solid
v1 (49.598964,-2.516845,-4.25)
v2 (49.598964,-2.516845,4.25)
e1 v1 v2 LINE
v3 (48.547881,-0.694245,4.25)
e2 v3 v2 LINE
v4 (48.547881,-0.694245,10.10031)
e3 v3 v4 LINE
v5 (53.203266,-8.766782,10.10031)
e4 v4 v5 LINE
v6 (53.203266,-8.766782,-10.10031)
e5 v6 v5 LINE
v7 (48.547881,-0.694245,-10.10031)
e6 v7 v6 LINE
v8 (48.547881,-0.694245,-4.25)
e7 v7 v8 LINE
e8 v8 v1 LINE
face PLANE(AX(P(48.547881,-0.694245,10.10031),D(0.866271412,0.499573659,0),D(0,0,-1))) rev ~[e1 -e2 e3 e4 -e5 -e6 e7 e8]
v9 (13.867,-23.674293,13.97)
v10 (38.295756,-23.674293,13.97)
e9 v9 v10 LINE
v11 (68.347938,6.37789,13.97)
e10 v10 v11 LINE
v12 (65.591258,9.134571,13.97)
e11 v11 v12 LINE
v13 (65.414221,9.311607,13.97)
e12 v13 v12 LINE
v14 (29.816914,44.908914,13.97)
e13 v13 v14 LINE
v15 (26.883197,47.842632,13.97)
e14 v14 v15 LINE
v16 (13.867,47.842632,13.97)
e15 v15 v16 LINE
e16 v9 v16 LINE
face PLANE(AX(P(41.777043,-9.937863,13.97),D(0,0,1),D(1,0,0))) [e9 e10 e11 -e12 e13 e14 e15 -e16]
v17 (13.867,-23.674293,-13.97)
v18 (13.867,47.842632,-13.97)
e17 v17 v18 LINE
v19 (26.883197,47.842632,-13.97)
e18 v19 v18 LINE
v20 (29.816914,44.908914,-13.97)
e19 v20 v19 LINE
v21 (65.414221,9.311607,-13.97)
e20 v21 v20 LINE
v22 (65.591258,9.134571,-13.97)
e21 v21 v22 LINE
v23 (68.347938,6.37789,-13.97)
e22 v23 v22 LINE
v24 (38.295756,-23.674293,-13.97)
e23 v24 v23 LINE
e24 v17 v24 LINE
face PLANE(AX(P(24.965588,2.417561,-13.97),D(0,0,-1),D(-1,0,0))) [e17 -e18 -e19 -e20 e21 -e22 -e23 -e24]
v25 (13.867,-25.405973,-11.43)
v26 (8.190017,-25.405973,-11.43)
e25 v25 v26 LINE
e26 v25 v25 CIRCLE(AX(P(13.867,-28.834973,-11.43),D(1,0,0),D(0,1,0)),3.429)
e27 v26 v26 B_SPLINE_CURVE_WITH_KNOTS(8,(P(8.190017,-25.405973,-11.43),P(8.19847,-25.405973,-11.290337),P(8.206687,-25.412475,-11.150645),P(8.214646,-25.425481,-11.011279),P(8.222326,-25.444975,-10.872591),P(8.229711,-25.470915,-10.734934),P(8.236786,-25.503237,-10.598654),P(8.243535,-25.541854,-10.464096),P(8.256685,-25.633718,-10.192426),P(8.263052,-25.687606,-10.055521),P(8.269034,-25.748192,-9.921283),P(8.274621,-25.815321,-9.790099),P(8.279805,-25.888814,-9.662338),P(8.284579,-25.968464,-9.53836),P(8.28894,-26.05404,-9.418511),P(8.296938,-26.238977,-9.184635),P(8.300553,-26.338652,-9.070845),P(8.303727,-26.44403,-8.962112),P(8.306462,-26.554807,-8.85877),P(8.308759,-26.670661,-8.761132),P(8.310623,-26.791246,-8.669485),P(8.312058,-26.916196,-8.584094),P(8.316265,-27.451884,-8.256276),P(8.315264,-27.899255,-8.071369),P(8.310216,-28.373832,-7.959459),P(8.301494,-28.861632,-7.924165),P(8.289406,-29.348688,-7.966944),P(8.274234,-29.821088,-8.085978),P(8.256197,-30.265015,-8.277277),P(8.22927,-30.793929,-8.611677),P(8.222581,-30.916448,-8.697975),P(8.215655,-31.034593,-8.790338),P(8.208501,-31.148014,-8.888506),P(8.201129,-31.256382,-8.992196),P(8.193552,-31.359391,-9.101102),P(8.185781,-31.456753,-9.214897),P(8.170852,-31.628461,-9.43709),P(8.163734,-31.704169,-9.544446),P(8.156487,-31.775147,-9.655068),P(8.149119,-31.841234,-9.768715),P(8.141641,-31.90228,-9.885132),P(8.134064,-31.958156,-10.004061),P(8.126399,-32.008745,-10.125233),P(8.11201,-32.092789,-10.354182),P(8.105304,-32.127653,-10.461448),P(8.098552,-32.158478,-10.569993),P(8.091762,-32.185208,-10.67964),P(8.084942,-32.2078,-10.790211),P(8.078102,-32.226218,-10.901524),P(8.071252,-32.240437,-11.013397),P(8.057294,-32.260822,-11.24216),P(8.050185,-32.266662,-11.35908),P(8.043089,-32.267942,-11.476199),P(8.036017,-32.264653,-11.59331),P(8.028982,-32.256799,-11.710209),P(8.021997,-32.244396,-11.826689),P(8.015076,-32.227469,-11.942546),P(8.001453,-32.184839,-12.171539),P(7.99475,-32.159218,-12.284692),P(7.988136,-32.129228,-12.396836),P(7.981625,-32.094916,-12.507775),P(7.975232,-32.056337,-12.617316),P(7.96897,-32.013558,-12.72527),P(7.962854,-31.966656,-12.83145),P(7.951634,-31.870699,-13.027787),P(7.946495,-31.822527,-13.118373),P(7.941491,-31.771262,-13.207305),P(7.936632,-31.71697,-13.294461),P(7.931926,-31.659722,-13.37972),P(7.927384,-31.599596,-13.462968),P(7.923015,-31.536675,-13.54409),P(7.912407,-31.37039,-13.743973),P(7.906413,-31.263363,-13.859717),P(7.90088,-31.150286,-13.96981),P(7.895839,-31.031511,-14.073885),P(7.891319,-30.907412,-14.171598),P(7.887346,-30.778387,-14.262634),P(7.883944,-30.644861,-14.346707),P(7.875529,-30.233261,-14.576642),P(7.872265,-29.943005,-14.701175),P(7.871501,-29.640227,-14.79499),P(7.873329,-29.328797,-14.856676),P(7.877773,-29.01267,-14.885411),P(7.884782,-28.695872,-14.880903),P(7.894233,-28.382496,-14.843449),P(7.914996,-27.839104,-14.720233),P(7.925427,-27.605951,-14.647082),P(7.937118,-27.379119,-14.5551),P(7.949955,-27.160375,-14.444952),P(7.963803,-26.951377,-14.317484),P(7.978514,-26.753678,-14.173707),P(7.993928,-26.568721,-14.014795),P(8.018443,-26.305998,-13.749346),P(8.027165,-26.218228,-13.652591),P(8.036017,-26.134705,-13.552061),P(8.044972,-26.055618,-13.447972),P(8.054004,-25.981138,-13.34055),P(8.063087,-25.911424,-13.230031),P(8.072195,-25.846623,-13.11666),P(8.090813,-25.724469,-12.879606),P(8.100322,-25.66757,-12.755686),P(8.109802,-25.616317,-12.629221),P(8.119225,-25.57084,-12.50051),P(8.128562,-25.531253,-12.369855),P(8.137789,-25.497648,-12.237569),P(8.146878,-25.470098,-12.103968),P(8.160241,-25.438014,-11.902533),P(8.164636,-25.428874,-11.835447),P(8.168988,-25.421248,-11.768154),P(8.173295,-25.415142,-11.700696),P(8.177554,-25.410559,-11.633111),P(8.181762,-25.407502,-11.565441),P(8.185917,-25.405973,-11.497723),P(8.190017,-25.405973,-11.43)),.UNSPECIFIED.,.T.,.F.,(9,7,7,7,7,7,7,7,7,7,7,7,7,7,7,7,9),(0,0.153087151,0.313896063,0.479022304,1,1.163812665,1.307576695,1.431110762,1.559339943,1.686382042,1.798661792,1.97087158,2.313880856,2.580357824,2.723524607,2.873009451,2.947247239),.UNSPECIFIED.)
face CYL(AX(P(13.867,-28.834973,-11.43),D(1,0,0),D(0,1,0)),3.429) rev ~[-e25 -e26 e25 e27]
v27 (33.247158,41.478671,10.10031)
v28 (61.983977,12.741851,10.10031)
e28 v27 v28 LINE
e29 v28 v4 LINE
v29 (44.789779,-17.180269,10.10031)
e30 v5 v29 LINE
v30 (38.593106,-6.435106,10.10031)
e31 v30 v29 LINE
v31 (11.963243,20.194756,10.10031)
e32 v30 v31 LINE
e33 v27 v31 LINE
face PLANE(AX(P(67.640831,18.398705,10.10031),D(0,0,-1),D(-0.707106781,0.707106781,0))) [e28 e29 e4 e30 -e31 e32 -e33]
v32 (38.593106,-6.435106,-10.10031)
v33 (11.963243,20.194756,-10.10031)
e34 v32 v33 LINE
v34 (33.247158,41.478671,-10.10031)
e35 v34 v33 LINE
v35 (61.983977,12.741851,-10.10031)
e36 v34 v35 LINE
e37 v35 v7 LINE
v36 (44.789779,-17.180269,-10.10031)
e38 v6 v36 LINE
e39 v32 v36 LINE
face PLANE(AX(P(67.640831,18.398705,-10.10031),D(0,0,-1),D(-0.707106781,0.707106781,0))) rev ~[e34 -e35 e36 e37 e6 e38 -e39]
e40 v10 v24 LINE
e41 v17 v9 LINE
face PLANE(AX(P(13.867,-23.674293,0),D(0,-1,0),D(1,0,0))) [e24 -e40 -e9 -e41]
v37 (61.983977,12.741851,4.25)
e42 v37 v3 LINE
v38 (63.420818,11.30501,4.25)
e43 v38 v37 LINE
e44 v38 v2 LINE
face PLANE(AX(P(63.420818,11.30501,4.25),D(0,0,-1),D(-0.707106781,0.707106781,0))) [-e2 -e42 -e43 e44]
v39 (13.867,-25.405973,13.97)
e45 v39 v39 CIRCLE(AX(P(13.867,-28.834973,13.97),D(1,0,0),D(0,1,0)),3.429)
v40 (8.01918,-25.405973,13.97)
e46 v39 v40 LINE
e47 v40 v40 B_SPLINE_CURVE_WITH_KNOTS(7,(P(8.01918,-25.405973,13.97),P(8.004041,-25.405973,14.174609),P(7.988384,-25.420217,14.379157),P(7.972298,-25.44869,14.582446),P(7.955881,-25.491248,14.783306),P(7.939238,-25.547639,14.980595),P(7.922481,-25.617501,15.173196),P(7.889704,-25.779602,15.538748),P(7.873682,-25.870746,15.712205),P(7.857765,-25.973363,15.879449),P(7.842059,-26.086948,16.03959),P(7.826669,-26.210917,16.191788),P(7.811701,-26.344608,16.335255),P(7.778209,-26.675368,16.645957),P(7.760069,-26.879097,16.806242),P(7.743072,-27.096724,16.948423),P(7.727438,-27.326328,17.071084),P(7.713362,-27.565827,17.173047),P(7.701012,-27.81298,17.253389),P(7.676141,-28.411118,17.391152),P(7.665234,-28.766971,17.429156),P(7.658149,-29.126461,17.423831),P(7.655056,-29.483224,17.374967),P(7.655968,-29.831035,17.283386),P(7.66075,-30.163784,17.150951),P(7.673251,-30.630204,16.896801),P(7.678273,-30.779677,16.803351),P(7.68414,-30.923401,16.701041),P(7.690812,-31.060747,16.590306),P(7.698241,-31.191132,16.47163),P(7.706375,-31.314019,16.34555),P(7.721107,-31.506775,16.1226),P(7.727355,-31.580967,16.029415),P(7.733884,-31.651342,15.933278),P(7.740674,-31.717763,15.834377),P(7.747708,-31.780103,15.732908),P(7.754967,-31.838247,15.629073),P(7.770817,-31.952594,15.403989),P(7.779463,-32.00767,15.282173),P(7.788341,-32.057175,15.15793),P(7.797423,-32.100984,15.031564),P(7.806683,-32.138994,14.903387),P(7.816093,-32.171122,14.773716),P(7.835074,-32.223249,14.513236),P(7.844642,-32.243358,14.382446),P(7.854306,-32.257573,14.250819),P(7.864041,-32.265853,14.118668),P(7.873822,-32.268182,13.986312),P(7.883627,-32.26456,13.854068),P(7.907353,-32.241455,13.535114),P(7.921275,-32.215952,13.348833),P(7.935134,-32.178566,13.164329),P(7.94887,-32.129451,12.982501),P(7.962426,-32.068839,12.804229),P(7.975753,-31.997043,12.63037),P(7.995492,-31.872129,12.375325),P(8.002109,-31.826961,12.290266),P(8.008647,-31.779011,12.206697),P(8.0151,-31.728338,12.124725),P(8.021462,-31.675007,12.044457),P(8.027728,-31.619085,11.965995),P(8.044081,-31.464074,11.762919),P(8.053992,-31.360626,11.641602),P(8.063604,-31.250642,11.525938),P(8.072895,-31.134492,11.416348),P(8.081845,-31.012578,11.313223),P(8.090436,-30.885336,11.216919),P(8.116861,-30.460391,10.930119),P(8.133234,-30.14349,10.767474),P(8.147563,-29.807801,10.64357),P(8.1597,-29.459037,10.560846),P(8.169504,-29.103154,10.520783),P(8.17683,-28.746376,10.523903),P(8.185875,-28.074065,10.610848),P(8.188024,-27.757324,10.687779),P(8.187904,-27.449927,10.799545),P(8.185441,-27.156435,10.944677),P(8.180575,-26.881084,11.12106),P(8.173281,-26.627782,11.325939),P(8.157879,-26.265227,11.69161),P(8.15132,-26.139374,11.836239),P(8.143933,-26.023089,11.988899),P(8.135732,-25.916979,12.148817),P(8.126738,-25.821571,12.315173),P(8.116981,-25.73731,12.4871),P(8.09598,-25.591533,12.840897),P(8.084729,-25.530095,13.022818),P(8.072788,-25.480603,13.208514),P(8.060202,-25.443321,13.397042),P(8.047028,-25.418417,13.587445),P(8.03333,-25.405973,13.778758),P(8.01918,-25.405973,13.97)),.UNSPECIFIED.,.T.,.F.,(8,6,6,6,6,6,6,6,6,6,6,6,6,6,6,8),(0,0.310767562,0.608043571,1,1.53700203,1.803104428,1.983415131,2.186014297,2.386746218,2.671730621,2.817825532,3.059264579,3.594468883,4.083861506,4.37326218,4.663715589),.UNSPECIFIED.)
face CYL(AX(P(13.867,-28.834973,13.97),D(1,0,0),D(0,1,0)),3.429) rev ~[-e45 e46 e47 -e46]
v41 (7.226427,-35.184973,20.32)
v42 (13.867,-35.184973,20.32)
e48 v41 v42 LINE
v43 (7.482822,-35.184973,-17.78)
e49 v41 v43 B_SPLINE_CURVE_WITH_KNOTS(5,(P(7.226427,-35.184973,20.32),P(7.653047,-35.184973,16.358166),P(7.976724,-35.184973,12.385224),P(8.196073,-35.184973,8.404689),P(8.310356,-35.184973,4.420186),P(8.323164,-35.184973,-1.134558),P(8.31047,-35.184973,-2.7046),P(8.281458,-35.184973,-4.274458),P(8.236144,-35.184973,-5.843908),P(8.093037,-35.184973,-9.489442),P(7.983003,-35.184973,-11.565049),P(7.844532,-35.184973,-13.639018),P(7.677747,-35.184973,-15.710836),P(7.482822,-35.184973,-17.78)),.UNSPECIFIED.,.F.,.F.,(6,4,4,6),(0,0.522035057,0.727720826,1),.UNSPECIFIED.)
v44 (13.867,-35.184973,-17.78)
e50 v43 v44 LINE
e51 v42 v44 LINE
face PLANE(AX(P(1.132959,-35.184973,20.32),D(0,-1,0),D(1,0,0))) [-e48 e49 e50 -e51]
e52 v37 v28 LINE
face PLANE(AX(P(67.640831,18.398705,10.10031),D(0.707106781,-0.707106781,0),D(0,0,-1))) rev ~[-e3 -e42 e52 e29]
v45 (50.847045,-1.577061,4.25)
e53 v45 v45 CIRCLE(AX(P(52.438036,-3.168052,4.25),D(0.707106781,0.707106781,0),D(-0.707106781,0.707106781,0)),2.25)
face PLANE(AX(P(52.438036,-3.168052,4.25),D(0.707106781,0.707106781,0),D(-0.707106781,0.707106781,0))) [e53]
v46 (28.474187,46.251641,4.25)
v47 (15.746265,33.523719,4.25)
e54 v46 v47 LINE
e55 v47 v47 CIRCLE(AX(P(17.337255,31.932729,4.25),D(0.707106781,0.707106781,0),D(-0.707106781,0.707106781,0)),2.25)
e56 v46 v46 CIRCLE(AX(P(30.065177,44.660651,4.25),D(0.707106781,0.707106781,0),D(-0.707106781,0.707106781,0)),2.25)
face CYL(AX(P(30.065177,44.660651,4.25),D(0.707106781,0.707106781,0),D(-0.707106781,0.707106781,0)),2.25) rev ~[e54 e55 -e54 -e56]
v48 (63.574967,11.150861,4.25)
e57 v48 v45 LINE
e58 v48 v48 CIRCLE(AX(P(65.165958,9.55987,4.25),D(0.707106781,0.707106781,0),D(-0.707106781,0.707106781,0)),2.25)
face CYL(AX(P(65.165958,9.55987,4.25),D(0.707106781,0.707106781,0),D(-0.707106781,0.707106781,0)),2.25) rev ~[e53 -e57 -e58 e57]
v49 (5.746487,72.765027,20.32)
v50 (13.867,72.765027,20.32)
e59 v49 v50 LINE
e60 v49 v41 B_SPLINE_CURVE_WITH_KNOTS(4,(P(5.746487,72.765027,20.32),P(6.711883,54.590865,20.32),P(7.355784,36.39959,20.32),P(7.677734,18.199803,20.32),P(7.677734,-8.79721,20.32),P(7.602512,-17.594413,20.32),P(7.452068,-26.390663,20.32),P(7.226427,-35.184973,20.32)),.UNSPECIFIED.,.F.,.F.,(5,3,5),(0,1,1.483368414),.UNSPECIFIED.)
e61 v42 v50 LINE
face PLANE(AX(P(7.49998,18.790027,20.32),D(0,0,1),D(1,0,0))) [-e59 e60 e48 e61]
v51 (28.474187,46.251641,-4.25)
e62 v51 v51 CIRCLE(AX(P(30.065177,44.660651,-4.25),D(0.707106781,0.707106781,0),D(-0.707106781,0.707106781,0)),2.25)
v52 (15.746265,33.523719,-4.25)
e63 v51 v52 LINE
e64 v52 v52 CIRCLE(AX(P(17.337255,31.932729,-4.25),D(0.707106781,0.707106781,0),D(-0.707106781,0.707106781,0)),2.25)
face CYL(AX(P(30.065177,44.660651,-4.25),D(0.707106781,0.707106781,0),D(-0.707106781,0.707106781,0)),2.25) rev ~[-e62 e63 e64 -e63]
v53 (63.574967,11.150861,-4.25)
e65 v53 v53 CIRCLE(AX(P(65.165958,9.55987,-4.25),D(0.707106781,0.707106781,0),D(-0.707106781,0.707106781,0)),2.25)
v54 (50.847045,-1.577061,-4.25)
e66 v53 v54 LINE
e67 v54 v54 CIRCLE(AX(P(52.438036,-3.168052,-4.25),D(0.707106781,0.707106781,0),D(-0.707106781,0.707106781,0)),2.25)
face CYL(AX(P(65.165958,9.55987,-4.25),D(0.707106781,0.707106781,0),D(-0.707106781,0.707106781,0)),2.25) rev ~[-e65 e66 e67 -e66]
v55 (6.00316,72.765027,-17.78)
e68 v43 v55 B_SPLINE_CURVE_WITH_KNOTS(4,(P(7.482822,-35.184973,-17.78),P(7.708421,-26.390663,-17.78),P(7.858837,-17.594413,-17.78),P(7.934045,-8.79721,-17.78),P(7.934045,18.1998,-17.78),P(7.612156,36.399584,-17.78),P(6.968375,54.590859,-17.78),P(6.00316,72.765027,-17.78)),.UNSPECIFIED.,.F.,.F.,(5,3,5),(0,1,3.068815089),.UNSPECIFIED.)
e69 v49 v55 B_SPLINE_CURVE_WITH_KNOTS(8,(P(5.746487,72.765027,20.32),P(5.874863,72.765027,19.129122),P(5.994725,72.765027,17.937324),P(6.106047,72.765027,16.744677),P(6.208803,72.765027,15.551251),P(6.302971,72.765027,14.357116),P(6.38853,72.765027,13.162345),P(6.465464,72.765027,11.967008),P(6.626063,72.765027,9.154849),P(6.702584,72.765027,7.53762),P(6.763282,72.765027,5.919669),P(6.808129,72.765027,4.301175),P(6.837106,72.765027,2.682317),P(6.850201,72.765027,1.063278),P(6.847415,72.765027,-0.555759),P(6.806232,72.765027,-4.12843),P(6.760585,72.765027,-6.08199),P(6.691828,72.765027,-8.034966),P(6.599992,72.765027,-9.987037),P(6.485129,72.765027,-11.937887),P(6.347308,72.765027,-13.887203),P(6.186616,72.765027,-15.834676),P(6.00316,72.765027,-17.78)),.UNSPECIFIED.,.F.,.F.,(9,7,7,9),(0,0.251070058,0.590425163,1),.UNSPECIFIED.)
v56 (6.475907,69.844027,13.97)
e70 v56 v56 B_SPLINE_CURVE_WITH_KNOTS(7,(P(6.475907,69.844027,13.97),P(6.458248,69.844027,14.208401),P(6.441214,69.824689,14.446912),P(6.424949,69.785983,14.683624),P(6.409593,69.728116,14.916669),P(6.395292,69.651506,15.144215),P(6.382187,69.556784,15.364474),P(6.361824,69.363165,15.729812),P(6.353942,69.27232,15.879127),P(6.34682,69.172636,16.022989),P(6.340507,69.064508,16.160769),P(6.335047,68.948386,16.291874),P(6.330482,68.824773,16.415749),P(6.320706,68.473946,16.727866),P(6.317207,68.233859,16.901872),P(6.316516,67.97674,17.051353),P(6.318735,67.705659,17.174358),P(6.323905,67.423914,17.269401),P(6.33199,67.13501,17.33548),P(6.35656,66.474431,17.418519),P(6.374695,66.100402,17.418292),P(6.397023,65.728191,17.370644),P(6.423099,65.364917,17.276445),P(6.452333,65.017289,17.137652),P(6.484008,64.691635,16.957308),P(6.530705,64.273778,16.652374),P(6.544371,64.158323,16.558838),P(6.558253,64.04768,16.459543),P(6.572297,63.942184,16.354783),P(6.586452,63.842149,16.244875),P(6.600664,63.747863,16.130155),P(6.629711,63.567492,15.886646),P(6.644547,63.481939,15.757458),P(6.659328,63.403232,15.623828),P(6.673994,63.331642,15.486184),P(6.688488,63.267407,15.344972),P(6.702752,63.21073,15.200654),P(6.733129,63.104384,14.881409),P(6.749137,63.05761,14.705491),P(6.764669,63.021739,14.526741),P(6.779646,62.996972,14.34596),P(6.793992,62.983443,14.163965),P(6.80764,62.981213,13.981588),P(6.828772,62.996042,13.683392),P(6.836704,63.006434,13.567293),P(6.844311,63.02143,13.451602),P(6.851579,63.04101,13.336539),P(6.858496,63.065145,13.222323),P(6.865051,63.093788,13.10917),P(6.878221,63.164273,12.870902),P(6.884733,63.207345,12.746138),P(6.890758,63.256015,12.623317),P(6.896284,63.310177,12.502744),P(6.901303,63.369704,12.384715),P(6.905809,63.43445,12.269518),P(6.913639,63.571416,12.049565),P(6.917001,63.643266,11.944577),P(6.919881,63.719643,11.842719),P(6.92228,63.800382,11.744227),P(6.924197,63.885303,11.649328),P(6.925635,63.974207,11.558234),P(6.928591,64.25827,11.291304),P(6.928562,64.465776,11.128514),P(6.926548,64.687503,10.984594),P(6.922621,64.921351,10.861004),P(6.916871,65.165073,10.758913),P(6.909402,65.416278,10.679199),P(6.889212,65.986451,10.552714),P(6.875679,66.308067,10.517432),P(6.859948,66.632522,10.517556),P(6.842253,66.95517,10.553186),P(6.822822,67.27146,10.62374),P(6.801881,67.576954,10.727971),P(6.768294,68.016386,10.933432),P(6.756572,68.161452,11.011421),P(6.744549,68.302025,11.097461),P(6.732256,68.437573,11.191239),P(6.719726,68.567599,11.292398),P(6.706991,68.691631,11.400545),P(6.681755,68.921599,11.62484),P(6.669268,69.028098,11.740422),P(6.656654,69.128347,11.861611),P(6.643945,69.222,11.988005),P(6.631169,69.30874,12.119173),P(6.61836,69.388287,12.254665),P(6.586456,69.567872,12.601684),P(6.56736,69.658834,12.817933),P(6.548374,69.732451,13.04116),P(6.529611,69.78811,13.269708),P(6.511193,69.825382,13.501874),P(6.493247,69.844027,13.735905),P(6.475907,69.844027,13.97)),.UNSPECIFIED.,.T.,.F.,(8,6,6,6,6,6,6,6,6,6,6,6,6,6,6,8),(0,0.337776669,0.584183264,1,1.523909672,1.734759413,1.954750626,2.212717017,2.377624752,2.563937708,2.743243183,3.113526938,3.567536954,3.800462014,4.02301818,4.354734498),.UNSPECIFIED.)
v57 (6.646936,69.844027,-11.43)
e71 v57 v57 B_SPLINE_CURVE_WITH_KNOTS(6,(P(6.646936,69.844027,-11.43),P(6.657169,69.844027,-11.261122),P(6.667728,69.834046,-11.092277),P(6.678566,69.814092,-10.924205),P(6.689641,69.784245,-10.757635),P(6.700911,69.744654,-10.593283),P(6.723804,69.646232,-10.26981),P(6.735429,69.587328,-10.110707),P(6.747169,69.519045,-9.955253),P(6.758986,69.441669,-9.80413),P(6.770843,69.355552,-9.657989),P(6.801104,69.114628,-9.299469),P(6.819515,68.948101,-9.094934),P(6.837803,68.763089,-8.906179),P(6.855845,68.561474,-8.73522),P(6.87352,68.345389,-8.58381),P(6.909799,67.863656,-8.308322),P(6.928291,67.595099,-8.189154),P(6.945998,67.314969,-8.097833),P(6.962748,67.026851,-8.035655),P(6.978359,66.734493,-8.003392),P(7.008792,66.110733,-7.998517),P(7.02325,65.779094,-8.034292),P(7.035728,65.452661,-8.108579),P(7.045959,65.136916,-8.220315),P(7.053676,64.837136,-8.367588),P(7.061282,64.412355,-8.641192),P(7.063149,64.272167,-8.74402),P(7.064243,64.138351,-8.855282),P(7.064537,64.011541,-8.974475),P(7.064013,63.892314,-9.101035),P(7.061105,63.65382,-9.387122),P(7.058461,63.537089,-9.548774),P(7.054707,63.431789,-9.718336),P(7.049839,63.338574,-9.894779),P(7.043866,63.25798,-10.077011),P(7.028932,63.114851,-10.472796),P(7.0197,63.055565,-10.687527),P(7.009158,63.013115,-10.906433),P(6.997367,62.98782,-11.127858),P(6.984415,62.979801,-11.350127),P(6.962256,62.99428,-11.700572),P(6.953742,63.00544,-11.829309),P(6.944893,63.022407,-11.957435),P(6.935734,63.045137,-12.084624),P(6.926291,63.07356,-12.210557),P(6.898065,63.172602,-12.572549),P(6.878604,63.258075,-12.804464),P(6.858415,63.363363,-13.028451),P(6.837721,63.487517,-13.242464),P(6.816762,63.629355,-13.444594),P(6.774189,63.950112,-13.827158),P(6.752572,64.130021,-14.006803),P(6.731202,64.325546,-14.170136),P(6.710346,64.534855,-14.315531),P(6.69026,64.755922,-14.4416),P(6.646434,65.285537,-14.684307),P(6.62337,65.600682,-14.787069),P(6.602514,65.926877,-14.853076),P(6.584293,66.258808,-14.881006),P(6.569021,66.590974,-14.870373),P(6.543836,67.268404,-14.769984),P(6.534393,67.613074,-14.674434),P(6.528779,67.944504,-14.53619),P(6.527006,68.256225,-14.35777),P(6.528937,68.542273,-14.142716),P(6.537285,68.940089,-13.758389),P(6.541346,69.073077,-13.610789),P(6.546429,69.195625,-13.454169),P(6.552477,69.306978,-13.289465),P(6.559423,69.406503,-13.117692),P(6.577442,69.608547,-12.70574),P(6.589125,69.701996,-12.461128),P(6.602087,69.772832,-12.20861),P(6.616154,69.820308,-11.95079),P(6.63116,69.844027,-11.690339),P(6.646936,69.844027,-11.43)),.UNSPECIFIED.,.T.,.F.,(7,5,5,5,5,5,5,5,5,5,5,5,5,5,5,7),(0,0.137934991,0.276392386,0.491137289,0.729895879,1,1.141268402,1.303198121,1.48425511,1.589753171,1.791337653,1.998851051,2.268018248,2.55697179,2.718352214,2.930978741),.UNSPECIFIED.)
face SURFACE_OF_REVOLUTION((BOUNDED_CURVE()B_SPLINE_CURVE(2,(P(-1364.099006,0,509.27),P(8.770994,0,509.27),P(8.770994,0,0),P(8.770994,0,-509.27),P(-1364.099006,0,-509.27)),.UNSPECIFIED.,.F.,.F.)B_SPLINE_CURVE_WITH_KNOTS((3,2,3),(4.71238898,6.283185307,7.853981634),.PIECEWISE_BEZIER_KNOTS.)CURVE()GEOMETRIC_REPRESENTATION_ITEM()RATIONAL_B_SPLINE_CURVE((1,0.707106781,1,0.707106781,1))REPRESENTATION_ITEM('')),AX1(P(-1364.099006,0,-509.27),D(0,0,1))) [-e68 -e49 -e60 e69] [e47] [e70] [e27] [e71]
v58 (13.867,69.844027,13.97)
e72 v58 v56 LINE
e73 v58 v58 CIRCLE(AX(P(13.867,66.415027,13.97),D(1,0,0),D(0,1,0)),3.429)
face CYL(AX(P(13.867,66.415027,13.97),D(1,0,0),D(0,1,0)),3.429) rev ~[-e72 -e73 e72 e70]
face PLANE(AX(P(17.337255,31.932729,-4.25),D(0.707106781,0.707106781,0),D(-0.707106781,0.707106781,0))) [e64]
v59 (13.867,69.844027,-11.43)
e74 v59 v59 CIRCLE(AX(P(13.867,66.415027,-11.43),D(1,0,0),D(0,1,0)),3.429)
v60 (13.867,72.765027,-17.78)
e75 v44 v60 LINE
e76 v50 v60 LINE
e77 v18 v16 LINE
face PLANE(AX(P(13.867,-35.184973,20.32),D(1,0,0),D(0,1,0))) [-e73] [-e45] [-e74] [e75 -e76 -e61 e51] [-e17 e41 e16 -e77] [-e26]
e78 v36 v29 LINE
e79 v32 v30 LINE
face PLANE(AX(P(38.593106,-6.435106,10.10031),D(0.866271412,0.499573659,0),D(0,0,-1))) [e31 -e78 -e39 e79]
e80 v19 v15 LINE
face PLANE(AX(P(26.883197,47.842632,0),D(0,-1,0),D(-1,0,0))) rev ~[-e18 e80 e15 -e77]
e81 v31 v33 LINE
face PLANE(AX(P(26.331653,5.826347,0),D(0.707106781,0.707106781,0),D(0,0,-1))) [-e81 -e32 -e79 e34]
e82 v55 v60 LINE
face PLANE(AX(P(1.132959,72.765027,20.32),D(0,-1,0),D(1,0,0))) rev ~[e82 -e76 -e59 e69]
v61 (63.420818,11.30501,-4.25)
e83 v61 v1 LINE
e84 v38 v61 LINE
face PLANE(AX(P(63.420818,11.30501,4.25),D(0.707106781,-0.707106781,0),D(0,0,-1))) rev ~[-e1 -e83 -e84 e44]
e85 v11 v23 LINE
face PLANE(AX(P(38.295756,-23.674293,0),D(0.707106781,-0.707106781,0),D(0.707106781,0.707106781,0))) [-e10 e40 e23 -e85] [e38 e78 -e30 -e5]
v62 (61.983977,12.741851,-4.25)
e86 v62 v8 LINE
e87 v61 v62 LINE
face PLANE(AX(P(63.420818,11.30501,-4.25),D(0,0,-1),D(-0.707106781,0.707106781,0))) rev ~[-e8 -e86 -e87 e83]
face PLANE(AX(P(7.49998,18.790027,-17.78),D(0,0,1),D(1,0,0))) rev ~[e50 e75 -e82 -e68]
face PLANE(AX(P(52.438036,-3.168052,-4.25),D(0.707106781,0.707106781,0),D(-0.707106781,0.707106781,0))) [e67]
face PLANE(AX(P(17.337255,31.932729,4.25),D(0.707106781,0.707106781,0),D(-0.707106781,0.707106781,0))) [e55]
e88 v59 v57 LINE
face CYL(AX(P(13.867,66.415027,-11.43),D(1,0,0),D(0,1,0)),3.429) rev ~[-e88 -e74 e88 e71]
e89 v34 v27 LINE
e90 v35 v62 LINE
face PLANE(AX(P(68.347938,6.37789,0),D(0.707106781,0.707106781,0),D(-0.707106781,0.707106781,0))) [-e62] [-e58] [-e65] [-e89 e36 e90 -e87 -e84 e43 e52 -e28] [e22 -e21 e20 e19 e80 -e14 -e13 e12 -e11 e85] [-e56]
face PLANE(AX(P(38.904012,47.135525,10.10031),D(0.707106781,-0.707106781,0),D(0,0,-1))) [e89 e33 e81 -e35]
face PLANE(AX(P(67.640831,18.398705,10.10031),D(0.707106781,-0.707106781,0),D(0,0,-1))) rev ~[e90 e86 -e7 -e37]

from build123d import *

# Parameters (mm, degrees)
SKETCH1_W               = 15.24
SKETCH1_H               = 47.25
BOSS_EXTRUDE1_DEPTH     = 29
BOSS_EXTRUDE2_DEPTH     = 15.24
BOSS_EXTRUDE3_START     = 6.35
BOSS_EXTRUDE3_DEPTH     = 27.94
CUT_EXTRUDE4_DEPTH      = 90.856122335
CUT_EXTRUDE4_DEPTH_BACK = 90.856122335
BOSS_EXTRUDE4_START     = 12.7
SKETCH15_W              = 12.73404056
SKETCH15_H              = 107.95
BOSS_EXTRUDE4_DEPTH     = 38.1
SKETCH17_R              = 3.429
CUT_EXTRUDE6_DEPTH      = 95.762638832
BOSS_EXTRUDE9_DEPTH     = 6.35
BOSS_EXTRUDE10_DEPTH    = 6.35
SKETCH12_W              = 20.20062
SKETCH12_H              = 40.64
CUT_EXTRUDE8_DEPTH      = 38.1
SKETCH21_W              = 27.94
SKETCH21_H              = 50.342193805
CUT_EXTRUDE9_DEPTH      = 8
SKETCH22_W              = 27.94
SKETCH22_H              = 8
CUT_EXTRUDE10_DEPTH     = 2.54
BOSS_EXTRUDE11_DEPTH    = 13.97
SKETCH24_W              = 11.491520074
SKETCH24_H              = 20.20062
CUT_EXTRUDE11_DEPTH     = 112.502999945
SKETCH25_R              = 2.249999945
CUT_EXTRUDE12_DEPTH     = 18
CUT_EXTRUDE13_REACH     = 83.705
SKETCH26_W              = 8.500000018
SKETCH26_H              = 2.032


with BuildPart() as part:
    # Sketch1 → Boss-Extrude1 (new body)
    with BuildSketch(Plane(origin=(0, 0, 0), x_dir=(0, 0, -1), z_dir=(1, 0, 0))):
        Rectangle(SKETCH1_W, SKETCH1_H)
    extrude(amount=BOSS_EXTRUDE1_DEPTH)

    # Sketch8 → Cut-Revolve1 (revolve, cut)
    with BuildSketch(Plane(origin=(0, 0, 0), x_dir=(1, 0, 0), z_dir=(0, 1, 0))):
        with BuildLine():
            Line((-1363.98, 509.27), (-1363.98, -509.27))
            add(Edge.make_bspline(
                [(-1363.98, -509.27), (8.89, -509.27), (8.89, 0), (8.89, 509.27), (-1363.98, 509.27)],
                knots=[4.71238898, 4.71238898, 4.71238898, 6.283185307, 6.283185307, 7.853981634, 7.853981634, 7.853981634], degree=2, weights=[1, 0.707106781, 1, 0.707106781, 1]))
        make_face()
    revolve(axis=Axis((-1363.98, 0, -509.27), (0, 0, 1)), mode=Mode.SUBTRACT)

    # Sketch9 → Boss-Extrude2 (add)
    with BuildSketch(Plane.XY.offset(7.62)):
        Polygon((29, -23.625), (57.293684645, -23.625), (29, 23.625), align=None)
    extrude(amount=-BOSS_EXTRUDE2_DEPTH)

    # Sketch11 → Boss-Extrude3 (add)
    with BuildSketch(Plane(origin=(0, 0, -7.62), x_dir=(-1, 0, 0), z_dir=(0, 0, -1)).offset(BOSS_EXTRUDE3_START)):
        Polygon((-8.532999942, 23.625), (-35.473768305, 50.565768363), (-71.071074924, 14.968461744), (-48.544371121, -9.013786608), (-28.889356272, 23.625), align=None)
    extrude(amount=-BOSS_EXTRUDE3_DEPTH)

    # Sketch13 → Cut-Extrude4 (cut, two sides: drawn at the far end of the back side and taken through both)
    with BuildSketch(Plane(origin=(0, 0, -7.62), x_dir=(-1, 0, 0), z_dir=(0, 0, -1)).offset(-CUT_EXTRUDE4_DEPTH_BACK)):
        Polygon((-61.672265147, 5.569651967), (-8.532999942, -23.625), (-25.02523354, -53.6436889), (-79.417056311, -23.760883228), align=None)
    extrude(amount=CUT_EXTRUDE4_DEPTH + CUT_EXTRUDE4_DEPTH_BACK, mode=Mode.SUBTRACT)

    # Sketch15 → Boss-Extrude4 (add)
    with BuildSketch(Plane.XY.offset(7.62).offset(BOSS_EXTRUDE4_START)):
        with Locations((7.499979662, 18.790026662)):
            Rectangle(SKETCH15_W, SKETCH15_H)
    extrude(amount=-BOSS_EXTRUDE4_DEPTH)

    # Sketch16 → Cut-Revolve2 (revolve, cut)
    with BuildSketch(Plane(origin=(0, 0, 0), x_dir=(1, 0, 0), z_dir=(0, 1, 0))):
        with BuildLine():
            Line((-1364.099005706, 509.27), (-1364.099005706, -509.27))
            add(Edge.make_bspline(
                [(-1364.099005706, -509.27), (8.770994294, -509.27), (8.770994294, 0), (8.770994294, 509.27), (-1364.099005706, 509.27)],
                knots=[4.71238898, 4.71238898, 4.71238898, 6.283185307, 6.283185307, 7.853981634, 7.853981634, 7.853981634], degree=2, weights=[1, 0.707106781, 1, 0.707106781, 1]))
        make_face()
    revolve(axis=Axis((-1364.099005706, 0, -509.27), (0, 0, 1)), mode=Mode.SUBTRACT)

    # Sketch17 → Cut-Extrude6 (cut, through all)
    with BuildSketch(Plane(origin=(13.866999942, 0, 0), x_dir=(0, 0, -1), z_dir=(1, 0, 0))):
        with Locations(Location((-13.97, -28.834973338, 0), (0, 0, 90))):
            Circle(SKETCH17_R)
        with Locations(Location((-13.97, 66.415026662, 0), (0, 0, 90))):
            Circle(SKETCH17_R)
        with Locations(Location((11.43, 66.415026662, 0), (0, 0, 90))):
            Circle(SKETCH17_R)
        with Locations(Location((11.43, -28.834973338, 0), (0, 0, 90))):
            Circle(SKETCH17_R)
    extrude(amount=-CUT_EXTRUDE6_DEPTH, mode=Mode.SUBTRACT)

    # Sketch19 → Boss-Extrude9 (add)
    with BuildSketch(Plane.XY.offset(7.62)):
        Polygon((13.866999942, 23.625), (13.866999942, -20.694506456), (45.209055073, -3.475216955), (28.889356272, 23.625), align=None)
    extrude(amount=BOSS_EXTRUDE9_DEPTH)

    # Sketch20 → Boss-Extrude10 (add)
    with BuildSketch(Plane(origin=(0, 0, -7.62), x_dir=(-1, 0, 0), z_dir=(0, 0, -1))):
        Polygon((-45.209055073, -3.475216955), (-13.866999942, -20.694506456), (-13.866999942, 23.625), (-28.889356272, 23.625), align=None)
    extrude(amount=BOSS_EXTRUDE10_DEPTH)

    # Sketch12 → Cut-Extrude8 (cut)
    with BuildSketch(Plane(origin=(43.019768334, 43.019768334, 0), x_dir=(0, 0, -1), z_dir=(0.7071067811865476, 0.7071067811865476, 0))):
        with Locations((0, -14.49944132)):
            Rectangle(SKETCH12_W, SKETCH12_H)
    extrude(amount=-CUT_EXTRUDE8_DEPTH, mode=Mode.SUBTRACT)

    # Sketch21 → Cut-Extrude9 (cut)
    with BuildSketch(Plane(origin=(43.019768334, 43.019768334, 0), x_dir=(0, 0, -1), z_dir=(0.7071067811865477, 0.7071067811865475, 0))):
        with Locations((0, -14.49944132)):
            Rectangle(SKETCH21_W, SKETCH21_H)
    extrude(amount=-CUT_EXTRUDE9_DEPTH, mode=Mode.SUBTRACT)

    # Sketch22 → Cut-Extrude10 (cut)
    with BuildSketch(Plane(origin=(28.05130659, -28.05130659, 0), x_dir=(0, 0, 1), z_dir=(-0.7071067811865476, 0.7071067811865476, 0))):
        with Locations((0, 56.839139829)):
            Rectangle(SKETCH22_W, SKETCH22_H)
    extrude(amount=-CUT_EXTRUDE10_DEPTH, mode=Mode.SUBTRACT)

    # Sketch23 → Boss-Extrude11 (add, symmetric)
    with BuildSketch(Plane.XY):
        Polygon((29.816914056, 44.908914114), (26.883196541, 47.842631629), (13.866999942, 47.842631629), (13.866999942, 28.959), align=None)
        Polygon((65.591257632, 9.134570538), (13.866999942, -20.694506456), (13.866999942, -23.674292513), (38.295755697, -23.674292513), (68.34793819, 6.37788998), align=None)
    extrude(amount=BOSS_EXTRUDE11_DEPTH, both=True)

    # Sketch24 → Cut-Extrude11 (cut, through all)
    with BuildSketch(Plane(origin=(12.416727049, -21.530870355, 0), x_dir=(0.8662714122168664, 0.49957365860881403, 0), z_dir=(-0.49957365860881403, 0.8662714122168664, 0))):
        with Locations((35.963054904, 0)):
            Rectangle(SKETCH24_W, SKETCH24_H)
    extrude(amount=-CUT_EXTRUDE11_DEPTH, mode=Mode.SUBTRACT)

    # Sketch25 → Cut-Extrude12 (cut)
    with BuildSketch(Plane(origin=(37.362914085, 37.362914085, 0), x_dir=(0, 0, -1), z_dir=(0.7071067811865476, 0.7071067811865475, 0))):
        with Locations(Location((-4.250000009, 10.32055868, 0), (0, 0, 90))):
            Circle(SKETCH25_R)
        with Locations(Location((4.250000009, 10.32055868, 0), (0, 0, 90))):
            Circle(SKETCH25_R)
        with Locations(Location((-4.250000009, -39.31944132, 0), (0, 0, 90))):
            Circle(SKETCH25_R)
        with Locations(Location((4.250000009, -39.31944132, 0), (0, 0, 90))):
            Circle(SKETCH25_R)
    extrude(amount=-CUT_EXTRUDE12_DEPTH, mode=Mode.SUBTRACT)

    # Cut-Extrude13: up to this plane
    cut_extrude13_end = Plane(origin=(68.733790735, -35.697044307, 10.10031), z_dir=(0.8662714122168665, 0.49957365860881403, -3.0669196206838748e-15))
    # Sketch26 → Cut-Extrude13 (cut, up to the surface)
    with BuildSketch(Plane(origin=(37.362914085, 37.362914085, 0), x_dir=(0, 0, -1), z_dir=(0.7071067811865476, 0.7071067811865475, 0)), mode=Mode.PRIVATE) as cut_extrude13_sk1:
        with Locations((0, -35.83544132)):
            Rectangle(SKETCH26_W, SKETCH26_H)
    cut_extrude13_tool1 = split(extrude(cut_extrude13_sk1.sketch, amount=-CUT_EXTRUDE13_REACH, mode=Mode.PRIVATE), bisect_by=cut_extrude13_end, keep=Keep.BOTH, mode=Mode.PRIVATE)
    add(cut_extrude13_tool1.solids().sort_by_distance((62.702398, 12.023431, 0))[0], mode=Mode.SUBTRACT)


solid = part.part
